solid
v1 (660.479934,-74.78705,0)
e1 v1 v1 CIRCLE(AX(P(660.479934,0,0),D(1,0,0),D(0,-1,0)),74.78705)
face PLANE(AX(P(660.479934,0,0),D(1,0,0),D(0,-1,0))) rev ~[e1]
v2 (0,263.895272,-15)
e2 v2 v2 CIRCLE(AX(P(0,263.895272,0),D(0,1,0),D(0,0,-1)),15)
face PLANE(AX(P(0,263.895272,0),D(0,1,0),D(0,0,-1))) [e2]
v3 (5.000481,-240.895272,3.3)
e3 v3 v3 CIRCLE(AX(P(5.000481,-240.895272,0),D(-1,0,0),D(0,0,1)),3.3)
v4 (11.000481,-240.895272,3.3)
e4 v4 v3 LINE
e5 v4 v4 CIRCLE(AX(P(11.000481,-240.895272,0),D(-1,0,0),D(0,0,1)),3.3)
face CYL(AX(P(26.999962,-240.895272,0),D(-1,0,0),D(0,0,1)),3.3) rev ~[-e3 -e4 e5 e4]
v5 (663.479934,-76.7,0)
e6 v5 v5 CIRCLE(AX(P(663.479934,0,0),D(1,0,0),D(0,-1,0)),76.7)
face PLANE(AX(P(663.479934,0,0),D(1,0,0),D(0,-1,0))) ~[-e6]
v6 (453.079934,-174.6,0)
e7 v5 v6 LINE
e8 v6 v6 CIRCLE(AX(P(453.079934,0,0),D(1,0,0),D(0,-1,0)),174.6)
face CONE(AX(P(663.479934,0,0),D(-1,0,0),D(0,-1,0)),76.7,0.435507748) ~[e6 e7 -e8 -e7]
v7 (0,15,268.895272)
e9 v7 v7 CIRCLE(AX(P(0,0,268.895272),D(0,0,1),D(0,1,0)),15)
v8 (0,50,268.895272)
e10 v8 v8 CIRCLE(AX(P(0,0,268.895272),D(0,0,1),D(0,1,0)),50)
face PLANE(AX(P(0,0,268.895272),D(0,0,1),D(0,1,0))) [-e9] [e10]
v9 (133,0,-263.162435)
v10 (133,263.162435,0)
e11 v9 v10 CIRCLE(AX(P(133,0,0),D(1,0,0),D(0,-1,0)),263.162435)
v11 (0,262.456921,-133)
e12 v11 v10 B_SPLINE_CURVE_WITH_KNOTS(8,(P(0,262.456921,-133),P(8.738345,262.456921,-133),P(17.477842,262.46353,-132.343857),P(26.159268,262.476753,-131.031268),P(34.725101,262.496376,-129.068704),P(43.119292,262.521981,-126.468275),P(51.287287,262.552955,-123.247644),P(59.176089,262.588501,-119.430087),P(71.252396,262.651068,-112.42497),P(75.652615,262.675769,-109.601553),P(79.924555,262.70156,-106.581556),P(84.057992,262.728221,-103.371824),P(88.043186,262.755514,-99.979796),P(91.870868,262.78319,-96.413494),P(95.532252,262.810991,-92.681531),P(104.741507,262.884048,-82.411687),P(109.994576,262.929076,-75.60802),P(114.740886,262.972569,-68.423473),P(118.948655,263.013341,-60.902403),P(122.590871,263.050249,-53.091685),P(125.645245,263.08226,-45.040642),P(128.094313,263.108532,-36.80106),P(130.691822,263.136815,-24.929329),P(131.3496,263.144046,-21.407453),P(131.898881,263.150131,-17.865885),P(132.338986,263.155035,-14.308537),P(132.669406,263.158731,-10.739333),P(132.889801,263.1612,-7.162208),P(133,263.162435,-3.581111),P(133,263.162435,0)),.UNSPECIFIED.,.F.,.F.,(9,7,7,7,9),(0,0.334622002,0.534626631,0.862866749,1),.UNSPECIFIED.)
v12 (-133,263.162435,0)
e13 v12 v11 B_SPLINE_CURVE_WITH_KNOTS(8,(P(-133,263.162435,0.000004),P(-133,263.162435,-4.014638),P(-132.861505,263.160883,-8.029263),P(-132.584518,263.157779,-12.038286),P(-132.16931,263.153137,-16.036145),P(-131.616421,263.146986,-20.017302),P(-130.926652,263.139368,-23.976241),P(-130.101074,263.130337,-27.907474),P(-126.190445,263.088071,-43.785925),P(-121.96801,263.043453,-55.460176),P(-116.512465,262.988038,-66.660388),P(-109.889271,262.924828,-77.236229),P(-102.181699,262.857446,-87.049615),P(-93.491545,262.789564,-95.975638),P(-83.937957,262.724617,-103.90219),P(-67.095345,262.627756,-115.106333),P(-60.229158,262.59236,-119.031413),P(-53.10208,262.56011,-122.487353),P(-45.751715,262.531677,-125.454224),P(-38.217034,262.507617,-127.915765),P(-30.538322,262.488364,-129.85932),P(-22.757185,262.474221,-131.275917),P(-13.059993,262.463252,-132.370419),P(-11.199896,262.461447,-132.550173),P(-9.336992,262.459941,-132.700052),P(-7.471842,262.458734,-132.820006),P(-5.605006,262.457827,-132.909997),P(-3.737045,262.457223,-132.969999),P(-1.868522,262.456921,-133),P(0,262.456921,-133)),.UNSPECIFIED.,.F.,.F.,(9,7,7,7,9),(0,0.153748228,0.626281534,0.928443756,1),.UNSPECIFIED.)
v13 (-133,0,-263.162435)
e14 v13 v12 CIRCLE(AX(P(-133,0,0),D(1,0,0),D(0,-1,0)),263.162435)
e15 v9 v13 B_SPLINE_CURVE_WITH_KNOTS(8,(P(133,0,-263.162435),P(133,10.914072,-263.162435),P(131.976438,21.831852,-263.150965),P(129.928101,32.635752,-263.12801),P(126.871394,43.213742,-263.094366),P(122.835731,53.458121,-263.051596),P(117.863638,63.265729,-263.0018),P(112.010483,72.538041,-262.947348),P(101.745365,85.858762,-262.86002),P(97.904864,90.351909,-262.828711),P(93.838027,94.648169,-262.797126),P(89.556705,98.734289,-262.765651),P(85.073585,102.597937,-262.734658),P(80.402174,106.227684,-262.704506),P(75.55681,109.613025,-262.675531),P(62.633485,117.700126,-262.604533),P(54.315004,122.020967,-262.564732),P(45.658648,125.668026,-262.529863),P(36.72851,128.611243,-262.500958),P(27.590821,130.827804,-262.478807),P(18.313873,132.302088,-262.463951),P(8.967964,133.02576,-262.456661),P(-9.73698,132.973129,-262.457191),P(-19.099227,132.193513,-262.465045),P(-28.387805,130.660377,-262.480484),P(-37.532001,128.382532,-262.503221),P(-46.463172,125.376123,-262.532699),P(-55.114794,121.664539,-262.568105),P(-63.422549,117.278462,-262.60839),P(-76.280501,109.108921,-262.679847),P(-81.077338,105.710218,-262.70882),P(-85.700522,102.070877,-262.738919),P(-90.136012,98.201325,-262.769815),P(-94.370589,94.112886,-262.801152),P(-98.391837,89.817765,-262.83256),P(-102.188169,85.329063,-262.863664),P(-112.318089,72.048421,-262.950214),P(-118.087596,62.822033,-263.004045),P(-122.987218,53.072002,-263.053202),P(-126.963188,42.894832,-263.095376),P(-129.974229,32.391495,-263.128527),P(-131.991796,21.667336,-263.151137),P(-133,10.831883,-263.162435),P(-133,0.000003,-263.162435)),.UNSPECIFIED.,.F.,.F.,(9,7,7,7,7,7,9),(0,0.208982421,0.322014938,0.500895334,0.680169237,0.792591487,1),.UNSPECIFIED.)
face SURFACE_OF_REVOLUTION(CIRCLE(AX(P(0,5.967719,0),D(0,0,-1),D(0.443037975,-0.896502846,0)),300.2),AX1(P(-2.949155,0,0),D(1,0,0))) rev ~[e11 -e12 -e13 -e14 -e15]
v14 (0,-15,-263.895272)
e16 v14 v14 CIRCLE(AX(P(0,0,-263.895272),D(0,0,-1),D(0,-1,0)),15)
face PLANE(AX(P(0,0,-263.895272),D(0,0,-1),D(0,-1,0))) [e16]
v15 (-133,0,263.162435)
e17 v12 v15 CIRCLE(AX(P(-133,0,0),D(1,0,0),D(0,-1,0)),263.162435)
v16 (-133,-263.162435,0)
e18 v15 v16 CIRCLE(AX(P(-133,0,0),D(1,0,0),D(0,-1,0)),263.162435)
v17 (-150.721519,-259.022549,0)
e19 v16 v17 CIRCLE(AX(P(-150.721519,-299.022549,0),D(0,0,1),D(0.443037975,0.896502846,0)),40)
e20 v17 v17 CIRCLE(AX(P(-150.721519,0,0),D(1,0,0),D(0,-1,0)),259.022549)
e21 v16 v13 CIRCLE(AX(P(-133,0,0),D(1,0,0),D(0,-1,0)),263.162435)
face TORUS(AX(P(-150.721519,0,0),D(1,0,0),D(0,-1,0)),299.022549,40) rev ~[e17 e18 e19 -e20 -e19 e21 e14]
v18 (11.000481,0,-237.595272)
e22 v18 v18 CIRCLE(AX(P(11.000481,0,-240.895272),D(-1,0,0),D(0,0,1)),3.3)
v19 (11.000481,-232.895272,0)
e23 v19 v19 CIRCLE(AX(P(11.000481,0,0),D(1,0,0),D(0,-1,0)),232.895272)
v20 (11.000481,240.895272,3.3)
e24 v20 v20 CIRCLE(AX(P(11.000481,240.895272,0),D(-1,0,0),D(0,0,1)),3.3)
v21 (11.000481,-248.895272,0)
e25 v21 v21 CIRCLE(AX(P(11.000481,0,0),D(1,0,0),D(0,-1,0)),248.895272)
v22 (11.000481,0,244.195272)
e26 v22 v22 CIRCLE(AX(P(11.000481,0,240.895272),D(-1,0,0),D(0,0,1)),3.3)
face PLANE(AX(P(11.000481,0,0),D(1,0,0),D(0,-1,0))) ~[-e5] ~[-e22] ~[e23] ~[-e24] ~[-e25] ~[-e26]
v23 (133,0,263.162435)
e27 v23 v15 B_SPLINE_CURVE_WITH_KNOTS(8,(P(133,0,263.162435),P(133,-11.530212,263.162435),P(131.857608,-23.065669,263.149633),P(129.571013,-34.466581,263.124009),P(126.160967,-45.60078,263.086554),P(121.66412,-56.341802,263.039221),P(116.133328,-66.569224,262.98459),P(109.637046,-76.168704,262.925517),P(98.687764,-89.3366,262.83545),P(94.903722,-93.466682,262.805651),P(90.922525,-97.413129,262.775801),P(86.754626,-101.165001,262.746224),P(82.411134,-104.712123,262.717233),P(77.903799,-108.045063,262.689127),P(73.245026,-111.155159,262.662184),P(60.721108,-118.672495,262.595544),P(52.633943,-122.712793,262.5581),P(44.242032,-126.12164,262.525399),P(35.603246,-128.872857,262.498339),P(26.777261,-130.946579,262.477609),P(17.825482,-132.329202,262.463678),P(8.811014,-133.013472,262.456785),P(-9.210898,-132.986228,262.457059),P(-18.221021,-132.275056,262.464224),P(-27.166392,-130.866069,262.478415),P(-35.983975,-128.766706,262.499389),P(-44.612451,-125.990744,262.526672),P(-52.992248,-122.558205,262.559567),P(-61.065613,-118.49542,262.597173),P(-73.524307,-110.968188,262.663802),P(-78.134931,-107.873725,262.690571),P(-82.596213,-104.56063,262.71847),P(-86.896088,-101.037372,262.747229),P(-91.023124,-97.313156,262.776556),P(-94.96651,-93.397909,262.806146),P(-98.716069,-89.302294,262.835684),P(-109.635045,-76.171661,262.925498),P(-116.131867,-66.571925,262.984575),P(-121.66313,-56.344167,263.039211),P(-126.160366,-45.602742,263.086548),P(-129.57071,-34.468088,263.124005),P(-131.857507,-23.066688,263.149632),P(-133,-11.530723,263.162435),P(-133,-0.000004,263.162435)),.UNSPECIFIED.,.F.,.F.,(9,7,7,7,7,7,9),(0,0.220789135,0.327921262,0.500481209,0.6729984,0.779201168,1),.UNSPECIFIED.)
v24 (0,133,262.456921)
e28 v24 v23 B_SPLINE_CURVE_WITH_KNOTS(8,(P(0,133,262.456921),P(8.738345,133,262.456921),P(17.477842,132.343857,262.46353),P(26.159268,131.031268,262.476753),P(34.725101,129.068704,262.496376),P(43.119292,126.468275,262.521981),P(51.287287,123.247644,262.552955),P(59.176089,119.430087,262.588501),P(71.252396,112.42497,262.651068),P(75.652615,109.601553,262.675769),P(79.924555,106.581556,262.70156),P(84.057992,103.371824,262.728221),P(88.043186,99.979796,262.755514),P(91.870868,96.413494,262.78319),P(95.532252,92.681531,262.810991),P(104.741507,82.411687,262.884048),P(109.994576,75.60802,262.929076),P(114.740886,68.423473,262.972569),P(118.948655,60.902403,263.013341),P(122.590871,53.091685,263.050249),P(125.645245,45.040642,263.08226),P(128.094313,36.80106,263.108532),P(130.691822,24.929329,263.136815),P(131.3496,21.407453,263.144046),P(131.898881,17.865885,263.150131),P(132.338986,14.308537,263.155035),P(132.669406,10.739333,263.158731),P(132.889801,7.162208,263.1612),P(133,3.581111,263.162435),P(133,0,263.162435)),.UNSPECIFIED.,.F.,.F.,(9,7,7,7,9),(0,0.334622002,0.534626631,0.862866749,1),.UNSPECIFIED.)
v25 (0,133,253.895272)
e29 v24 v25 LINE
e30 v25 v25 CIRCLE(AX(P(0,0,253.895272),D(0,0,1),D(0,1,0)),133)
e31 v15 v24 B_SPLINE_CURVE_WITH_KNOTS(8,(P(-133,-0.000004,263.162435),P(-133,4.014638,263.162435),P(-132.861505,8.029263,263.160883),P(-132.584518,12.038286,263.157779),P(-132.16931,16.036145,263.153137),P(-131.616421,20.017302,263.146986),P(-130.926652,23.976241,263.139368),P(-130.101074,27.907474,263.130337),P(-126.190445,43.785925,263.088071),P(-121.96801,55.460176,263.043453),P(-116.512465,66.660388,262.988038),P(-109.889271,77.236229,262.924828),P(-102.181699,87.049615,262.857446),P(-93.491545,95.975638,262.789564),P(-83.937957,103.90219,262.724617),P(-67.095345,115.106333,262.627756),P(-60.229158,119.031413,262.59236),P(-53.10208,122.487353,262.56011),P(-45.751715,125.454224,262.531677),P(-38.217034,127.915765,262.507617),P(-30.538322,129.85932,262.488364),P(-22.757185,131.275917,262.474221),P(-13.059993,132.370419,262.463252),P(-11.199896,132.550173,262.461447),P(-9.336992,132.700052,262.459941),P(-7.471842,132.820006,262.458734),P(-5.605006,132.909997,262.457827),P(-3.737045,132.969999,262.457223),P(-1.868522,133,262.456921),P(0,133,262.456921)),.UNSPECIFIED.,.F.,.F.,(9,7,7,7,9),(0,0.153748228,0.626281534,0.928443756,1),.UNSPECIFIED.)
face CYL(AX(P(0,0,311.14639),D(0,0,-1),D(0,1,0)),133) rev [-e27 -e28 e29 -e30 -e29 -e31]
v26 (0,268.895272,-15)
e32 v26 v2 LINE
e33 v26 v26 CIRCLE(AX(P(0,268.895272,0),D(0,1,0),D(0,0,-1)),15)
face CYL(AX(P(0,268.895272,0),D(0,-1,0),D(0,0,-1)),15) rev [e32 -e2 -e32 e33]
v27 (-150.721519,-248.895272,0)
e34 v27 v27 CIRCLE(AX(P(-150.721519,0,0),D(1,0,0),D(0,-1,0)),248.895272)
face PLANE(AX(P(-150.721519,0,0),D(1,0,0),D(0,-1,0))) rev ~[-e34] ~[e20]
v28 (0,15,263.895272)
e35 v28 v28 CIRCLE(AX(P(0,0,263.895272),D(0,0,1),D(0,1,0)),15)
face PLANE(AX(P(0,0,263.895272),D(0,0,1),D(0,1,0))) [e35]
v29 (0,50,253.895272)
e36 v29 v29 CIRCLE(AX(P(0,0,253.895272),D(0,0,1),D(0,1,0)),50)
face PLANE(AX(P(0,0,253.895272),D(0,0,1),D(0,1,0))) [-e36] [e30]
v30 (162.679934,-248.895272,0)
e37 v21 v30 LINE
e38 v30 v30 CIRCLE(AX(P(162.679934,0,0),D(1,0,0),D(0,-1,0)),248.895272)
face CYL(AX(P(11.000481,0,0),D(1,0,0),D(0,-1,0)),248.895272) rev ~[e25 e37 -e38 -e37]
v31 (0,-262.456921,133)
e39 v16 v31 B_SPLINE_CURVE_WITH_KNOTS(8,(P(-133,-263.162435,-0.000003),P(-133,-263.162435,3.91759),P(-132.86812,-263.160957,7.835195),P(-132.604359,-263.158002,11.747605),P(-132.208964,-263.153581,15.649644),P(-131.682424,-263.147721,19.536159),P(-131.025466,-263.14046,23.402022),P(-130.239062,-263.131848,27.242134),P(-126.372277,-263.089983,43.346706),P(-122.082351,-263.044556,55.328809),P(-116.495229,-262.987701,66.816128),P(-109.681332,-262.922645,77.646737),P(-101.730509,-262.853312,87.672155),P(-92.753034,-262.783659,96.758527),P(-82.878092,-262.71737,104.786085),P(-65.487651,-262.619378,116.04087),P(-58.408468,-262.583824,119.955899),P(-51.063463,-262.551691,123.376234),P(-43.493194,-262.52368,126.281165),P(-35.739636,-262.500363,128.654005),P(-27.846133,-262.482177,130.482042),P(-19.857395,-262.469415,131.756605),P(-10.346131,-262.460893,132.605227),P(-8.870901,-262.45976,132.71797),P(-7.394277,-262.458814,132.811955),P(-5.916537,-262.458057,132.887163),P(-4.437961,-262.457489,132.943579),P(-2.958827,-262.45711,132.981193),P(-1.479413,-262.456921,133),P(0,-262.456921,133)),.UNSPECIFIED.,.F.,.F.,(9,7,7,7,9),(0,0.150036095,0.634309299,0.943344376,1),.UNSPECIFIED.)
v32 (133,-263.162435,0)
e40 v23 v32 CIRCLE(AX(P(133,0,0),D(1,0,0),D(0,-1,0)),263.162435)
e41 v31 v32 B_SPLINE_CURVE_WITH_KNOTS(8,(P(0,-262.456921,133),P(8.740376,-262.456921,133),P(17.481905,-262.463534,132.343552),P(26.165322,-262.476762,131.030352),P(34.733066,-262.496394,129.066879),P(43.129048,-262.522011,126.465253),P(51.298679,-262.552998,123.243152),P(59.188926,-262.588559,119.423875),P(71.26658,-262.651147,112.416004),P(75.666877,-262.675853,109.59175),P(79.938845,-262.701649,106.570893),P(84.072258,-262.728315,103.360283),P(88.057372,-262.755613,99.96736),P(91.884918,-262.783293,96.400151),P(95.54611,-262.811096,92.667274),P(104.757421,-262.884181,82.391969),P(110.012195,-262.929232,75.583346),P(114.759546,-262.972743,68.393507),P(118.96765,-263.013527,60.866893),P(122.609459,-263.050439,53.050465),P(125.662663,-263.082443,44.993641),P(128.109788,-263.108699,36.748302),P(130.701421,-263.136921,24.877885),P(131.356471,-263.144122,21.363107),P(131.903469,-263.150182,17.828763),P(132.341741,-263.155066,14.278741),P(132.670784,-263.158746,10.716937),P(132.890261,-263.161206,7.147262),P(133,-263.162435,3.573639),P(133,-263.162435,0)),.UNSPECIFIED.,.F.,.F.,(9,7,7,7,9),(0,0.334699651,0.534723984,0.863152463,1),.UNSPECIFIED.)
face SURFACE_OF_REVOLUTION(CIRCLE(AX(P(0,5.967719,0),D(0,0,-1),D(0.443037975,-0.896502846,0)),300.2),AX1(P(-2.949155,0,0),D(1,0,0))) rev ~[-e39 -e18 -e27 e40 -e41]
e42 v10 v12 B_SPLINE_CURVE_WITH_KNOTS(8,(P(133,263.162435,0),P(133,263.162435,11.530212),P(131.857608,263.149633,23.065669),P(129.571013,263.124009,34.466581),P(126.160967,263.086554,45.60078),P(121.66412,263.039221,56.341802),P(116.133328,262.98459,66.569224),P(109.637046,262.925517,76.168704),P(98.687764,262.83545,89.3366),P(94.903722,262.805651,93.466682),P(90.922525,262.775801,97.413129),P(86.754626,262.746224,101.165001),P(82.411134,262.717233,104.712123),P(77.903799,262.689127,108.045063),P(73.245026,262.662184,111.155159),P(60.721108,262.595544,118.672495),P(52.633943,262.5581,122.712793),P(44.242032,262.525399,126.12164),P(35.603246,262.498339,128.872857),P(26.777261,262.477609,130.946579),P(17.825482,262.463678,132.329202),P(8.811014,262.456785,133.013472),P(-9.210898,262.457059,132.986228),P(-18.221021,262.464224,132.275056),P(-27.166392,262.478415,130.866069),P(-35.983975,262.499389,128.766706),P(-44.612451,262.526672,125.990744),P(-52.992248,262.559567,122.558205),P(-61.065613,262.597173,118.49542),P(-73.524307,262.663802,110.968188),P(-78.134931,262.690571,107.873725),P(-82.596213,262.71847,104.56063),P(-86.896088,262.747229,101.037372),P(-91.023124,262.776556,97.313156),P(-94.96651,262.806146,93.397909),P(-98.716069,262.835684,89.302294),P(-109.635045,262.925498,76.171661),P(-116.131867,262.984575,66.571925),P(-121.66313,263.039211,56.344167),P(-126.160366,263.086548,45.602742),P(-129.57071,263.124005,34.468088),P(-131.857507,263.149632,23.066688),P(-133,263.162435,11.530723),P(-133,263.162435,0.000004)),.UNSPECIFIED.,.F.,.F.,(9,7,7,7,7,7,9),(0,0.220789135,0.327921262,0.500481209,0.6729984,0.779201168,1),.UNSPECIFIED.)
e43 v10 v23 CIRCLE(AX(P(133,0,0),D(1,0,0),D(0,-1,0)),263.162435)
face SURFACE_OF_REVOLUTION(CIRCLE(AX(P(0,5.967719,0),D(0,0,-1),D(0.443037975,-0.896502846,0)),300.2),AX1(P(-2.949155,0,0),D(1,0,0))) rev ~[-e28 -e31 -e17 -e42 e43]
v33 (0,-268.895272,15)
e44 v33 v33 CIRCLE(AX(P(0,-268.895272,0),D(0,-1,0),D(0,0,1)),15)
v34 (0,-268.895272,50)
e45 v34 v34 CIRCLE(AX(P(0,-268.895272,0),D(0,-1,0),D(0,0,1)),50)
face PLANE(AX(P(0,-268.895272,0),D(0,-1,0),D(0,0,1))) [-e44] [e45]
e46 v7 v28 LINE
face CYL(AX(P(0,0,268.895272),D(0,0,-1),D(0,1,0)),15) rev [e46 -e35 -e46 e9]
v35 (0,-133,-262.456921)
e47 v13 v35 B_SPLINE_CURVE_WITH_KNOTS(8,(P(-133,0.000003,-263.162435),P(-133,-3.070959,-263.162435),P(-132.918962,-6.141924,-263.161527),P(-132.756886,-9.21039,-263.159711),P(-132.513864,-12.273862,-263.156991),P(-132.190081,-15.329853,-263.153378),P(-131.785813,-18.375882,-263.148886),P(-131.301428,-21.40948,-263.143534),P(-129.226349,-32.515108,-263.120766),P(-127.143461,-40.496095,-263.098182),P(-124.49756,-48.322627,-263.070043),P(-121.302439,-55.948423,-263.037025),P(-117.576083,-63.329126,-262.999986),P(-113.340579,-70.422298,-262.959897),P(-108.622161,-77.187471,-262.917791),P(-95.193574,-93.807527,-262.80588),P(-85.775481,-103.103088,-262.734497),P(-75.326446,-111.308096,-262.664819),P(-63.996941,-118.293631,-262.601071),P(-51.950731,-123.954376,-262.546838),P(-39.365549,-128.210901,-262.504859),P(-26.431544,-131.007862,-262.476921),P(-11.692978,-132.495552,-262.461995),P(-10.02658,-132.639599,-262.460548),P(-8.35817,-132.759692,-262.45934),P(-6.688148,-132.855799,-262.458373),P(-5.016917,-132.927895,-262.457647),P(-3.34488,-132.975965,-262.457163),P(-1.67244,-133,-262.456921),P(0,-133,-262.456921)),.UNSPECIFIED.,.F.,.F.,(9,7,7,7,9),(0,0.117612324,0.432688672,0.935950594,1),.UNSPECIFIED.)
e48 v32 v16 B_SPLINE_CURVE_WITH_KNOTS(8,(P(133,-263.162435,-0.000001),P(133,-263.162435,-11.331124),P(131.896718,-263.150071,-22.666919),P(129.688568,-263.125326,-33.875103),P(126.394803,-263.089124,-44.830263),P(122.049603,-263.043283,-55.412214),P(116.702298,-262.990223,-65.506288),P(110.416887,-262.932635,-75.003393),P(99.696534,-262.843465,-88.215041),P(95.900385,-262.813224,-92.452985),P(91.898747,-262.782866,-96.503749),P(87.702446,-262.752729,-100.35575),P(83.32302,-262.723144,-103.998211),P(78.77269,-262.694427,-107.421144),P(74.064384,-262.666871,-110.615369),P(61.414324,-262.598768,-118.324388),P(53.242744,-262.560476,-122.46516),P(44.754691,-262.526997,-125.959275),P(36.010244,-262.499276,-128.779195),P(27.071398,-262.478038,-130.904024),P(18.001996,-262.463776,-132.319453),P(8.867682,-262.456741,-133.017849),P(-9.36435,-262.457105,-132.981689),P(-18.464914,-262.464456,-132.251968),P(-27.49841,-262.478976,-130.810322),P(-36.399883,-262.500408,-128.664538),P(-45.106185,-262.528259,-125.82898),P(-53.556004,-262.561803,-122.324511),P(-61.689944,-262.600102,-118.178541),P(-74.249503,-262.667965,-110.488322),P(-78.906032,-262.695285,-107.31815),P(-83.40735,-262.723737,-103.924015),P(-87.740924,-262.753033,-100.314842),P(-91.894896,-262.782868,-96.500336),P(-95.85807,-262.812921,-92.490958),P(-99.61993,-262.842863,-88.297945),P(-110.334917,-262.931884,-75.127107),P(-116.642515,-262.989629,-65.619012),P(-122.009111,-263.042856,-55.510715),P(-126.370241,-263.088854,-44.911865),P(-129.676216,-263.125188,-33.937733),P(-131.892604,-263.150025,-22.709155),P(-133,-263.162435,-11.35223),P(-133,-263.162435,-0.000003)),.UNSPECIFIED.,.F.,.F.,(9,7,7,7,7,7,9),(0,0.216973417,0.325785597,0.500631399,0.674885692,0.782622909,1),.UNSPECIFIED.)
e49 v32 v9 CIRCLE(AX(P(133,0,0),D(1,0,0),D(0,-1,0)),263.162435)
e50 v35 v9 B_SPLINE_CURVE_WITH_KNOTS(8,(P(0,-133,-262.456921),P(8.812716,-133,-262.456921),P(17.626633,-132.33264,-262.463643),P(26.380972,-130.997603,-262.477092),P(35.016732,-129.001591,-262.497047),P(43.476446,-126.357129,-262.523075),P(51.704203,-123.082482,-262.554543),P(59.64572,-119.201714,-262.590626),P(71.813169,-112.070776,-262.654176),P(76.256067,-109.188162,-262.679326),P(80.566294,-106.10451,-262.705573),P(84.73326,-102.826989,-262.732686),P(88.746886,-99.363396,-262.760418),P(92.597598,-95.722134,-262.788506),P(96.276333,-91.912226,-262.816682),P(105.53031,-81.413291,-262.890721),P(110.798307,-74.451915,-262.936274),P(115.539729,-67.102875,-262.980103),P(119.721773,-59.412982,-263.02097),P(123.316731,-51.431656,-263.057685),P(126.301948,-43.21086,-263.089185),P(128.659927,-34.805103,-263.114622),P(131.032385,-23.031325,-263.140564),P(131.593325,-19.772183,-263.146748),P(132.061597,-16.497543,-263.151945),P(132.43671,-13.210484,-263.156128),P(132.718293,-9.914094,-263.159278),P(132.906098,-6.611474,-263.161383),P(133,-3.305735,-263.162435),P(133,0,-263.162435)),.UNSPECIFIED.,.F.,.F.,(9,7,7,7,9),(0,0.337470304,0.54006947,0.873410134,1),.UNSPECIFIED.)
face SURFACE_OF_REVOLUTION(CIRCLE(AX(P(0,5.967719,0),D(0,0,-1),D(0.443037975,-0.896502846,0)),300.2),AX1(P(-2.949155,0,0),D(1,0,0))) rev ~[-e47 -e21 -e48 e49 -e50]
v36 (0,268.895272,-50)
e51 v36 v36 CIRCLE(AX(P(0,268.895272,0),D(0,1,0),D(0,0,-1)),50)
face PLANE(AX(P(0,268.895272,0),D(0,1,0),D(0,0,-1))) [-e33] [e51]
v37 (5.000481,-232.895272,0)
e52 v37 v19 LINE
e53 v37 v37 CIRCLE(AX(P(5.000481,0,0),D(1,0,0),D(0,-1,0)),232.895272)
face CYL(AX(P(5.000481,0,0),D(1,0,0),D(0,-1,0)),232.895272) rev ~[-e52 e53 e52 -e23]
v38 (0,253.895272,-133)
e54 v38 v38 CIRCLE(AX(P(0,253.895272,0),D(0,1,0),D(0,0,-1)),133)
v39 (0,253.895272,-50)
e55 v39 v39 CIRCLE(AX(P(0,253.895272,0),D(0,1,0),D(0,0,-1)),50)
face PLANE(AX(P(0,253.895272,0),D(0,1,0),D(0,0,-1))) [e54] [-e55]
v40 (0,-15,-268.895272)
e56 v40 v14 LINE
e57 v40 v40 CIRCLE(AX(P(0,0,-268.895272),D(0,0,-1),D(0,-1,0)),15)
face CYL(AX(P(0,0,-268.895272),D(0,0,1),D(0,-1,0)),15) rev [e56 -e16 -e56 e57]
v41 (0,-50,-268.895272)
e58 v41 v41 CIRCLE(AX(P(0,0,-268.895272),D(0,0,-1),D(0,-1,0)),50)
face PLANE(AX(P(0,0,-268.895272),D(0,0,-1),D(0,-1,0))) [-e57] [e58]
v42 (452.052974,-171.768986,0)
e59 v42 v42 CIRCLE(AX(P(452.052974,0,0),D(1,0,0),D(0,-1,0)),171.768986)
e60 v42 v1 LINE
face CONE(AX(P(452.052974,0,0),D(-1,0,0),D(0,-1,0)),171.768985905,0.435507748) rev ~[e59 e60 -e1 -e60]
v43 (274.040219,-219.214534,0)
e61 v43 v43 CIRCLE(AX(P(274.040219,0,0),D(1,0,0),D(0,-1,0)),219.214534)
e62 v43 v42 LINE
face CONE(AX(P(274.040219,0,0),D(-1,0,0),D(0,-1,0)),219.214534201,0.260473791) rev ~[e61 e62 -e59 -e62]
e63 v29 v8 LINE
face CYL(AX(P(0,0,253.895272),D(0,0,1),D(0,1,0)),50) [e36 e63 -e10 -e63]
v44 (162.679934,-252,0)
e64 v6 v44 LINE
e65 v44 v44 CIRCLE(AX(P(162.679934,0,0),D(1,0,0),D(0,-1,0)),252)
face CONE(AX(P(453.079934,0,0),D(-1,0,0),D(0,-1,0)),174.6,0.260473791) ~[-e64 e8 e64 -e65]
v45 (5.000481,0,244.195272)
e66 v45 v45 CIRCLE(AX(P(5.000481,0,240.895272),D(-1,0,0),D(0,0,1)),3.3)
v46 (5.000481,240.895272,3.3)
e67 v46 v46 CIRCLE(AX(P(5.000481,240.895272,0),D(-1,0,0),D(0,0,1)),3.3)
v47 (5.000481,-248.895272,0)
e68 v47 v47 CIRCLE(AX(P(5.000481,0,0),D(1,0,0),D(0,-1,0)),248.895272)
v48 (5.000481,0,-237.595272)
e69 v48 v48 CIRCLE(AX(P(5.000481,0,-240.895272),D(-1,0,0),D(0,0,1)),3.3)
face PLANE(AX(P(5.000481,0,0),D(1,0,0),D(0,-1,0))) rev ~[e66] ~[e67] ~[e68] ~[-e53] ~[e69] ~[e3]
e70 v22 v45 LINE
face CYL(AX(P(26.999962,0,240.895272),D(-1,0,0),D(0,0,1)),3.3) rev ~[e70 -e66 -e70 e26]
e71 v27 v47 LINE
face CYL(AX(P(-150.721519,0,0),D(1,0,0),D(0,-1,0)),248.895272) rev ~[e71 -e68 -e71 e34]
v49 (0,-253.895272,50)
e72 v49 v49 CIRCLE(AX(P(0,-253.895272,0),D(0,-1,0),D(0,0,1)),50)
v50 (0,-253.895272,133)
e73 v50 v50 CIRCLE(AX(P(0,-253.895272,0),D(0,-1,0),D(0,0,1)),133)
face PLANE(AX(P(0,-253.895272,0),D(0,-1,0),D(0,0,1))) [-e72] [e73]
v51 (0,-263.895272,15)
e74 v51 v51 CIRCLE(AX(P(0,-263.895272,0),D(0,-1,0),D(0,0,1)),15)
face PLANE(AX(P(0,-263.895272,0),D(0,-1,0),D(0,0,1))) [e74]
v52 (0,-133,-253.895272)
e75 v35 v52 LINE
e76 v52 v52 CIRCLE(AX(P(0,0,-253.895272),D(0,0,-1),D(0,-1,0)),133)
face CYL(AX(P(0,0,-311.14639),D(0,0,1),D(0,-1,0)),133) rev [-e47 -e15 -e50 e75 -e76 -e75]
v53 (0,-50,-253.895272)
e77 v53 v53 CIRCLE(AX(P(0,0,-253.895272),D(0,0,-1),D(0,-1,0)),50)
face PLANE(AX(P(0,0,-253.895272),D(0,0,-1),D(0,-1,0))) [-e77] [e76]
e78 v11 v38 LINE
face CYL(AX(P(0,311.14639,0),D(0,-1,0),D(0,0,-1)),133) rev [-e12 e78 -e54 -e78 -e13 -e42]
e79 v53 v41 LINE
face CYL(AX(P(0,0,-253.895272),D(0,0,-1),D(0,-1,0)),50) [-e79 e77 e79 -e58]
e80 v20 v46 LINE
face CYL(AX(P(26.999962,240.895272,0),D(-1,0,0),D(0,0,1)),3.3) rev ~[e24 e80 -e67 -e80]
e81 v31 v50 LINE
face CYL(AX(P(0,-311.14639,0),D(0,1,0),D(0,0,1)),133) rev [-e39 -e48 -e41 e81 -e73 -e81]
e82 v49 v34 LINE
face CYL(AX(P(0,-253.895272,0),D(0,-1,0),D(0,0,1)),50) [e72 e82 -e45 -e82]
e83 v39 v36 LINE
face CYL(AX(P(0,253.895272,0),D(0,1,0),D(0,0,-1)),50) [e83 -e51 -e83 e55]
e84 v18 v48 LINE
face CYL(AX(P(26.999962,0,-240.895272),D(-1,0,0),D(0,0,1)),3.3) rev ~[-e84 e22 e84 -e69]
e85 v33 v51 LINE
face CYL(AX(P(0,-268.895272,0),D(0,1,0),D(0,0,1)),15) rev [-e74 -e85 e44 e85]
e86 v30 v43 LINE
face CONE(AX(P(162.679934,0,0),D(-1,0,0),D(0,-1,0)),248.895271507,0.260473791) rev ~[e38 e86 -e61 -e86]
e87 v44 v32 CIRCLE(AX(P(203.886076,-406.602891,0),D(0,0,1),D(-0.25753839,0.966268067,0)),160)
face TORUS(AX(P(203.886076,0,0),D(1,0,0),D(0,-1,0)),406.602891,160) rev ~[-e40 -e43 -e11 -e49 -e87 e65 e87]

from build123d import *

# Parameters (mm, degrees)
ESCALA1_SCALE               = 0.2
PADR_OCIRCULAR1_COUNT       = 4
FURO_COM_FOLGA_DE_M61_D     = 6.6
FURO_COM_FOLGA_DE_M61_DEPTH = 15.999481013
FURO_COM_FOLGA_DE_M61_TIP   = 1.982840043


with BuildPart() as part:
    # Esboço1 → Revolução1 (revolve)
    with BuildSketch(Plane.XY, mode=Mode.PRIVATE) as revolu_o1_sk:
        with BuildLine():
            Line((3317.399667889, 0), (3317.399667889, 383.5))
            Line((3317.399667889, 383.5), (2265.399667889, 873))
            Line((2265.399667889, 873), (813.399667889, 1260))
            ThreePointArc((813.399667889, 1260), (737.813781205, 1284.220696189), (665, 1315.812176946))
            ThreePointArc((665, 1315.812176946), (0, 1471.161405015), (-665, 1315.812176946))
            ThreePointArc((-665, 1315.812176946), (-708.110967822, 1300.356342101), (-753.607594937, 1295.112746158))
            Line((-753.607594937, 1295.112746158), (-753.607594937, 1244.476357536))
            Line((-753.607594937, 1244.476357536), (25.002405063, 1244.476357536))
            Line((25.002405063, 1244.476357536), (25.002405063, 1164.476357536))
            Line((25.002405063, 1164.476357536), (55.002405063, 1164.476357536))
            Line((55.002405063, 1164.476357536), (55.002405063, 1244.476357536))
            Line((55.002405063, 1244.476357536), (813.399667889, 1244.476357536))
            Line((813.399667889, 1244.476357536), (1370.201096416, 1096.072671007))
            Line((1370.201096416, 1096.072671007), (2260.264870662, 858.844929525))
            Line((2260.264870662, 858.844929525), (3302.399667889, 373.935249636))
            Line((3302.399667889, 373.935249636), (3302.399667889, 0))
            Line((3302.399667889, 0), (3317.399667889, 0))
        make_face()
    revolve(revolu_o1_sk.sketch.rotate(Axis((-14.7457766, 0, 0), (1, 0, 0)), 180), axis=Axis((-14.7457766, 0, 0), (1, 0, 0)))


with BuildPart() as part_1:
    # Escala1: scaled about (0, 0, 0)
    add(part.part.scale(ESCALA1_SCALE))

    # Esboço2 → Corte-Revolução9 (revolve, cut)
    with BuildSketch(Plane.XY, mode=Mode.PRIVATE) as corte_revolu_o9_sk:
        Polygon((15, 268.895271507), (15, 263.895271507), (0, 263.895271507), (0, 311.146389703), (133, 311.146389703), (133, 253.895271507), (50, 253.895271507), (50, 268.895271507), align=None)
    corte_revolu_o9 = revolve(corte_revolu_o9_sk.sketch.rotate(Axis((0, -141.14012245, 0), (0, 1, 0)), 90), axis=Axis((0, -141.14012245, 0), (0, 1, 0)), mode=Mode.SUBTRACT)

    # PadrãoCircular1: Corte-Revolução9 ×4 about axis
    padr_ocircular1_axis = Axis((0, 0, 0), (1, 0, 0))
    for i in range(1, PADR_OCIRCULAR1_COUNT):
        add(corte_revolu_o9.rotate(padr_ocircular1_axis, i * 360 / PADR_OCIRCULAR1_COUNT), mode=Mode.SUBTRACT)

    # Furo com folga de M61
    with Locations(Plane(origin=(11.000481013, 0, 0), x_dir=(0, 0, -1), z_dir=(1, 0, 0))):
        with Locations((0, 240.895271507), (240.895271507, 0), (0, -240.895271507), (-240.895271507, 0), (0, 0)):
            Hole(FURO_COM_FOLGA_DE_M61_D / 2, depth=FURO_COM_FOLGA_DE_M61_DEPTH)
            with Locations((0, 0, -(FURO_COM_FOLGA_DE_M61_DEPTH + FURO_COM_FOLGA_DE_M61_TIP / 2))):  # 118° drill point
                Cone(0, FURO_COM_FOLGA_DE_M61_D / 2, FURO_COM_FOLGA_DE_M61_TIP, mode=Mode.SUBTRACT)


solid = part_1.part
